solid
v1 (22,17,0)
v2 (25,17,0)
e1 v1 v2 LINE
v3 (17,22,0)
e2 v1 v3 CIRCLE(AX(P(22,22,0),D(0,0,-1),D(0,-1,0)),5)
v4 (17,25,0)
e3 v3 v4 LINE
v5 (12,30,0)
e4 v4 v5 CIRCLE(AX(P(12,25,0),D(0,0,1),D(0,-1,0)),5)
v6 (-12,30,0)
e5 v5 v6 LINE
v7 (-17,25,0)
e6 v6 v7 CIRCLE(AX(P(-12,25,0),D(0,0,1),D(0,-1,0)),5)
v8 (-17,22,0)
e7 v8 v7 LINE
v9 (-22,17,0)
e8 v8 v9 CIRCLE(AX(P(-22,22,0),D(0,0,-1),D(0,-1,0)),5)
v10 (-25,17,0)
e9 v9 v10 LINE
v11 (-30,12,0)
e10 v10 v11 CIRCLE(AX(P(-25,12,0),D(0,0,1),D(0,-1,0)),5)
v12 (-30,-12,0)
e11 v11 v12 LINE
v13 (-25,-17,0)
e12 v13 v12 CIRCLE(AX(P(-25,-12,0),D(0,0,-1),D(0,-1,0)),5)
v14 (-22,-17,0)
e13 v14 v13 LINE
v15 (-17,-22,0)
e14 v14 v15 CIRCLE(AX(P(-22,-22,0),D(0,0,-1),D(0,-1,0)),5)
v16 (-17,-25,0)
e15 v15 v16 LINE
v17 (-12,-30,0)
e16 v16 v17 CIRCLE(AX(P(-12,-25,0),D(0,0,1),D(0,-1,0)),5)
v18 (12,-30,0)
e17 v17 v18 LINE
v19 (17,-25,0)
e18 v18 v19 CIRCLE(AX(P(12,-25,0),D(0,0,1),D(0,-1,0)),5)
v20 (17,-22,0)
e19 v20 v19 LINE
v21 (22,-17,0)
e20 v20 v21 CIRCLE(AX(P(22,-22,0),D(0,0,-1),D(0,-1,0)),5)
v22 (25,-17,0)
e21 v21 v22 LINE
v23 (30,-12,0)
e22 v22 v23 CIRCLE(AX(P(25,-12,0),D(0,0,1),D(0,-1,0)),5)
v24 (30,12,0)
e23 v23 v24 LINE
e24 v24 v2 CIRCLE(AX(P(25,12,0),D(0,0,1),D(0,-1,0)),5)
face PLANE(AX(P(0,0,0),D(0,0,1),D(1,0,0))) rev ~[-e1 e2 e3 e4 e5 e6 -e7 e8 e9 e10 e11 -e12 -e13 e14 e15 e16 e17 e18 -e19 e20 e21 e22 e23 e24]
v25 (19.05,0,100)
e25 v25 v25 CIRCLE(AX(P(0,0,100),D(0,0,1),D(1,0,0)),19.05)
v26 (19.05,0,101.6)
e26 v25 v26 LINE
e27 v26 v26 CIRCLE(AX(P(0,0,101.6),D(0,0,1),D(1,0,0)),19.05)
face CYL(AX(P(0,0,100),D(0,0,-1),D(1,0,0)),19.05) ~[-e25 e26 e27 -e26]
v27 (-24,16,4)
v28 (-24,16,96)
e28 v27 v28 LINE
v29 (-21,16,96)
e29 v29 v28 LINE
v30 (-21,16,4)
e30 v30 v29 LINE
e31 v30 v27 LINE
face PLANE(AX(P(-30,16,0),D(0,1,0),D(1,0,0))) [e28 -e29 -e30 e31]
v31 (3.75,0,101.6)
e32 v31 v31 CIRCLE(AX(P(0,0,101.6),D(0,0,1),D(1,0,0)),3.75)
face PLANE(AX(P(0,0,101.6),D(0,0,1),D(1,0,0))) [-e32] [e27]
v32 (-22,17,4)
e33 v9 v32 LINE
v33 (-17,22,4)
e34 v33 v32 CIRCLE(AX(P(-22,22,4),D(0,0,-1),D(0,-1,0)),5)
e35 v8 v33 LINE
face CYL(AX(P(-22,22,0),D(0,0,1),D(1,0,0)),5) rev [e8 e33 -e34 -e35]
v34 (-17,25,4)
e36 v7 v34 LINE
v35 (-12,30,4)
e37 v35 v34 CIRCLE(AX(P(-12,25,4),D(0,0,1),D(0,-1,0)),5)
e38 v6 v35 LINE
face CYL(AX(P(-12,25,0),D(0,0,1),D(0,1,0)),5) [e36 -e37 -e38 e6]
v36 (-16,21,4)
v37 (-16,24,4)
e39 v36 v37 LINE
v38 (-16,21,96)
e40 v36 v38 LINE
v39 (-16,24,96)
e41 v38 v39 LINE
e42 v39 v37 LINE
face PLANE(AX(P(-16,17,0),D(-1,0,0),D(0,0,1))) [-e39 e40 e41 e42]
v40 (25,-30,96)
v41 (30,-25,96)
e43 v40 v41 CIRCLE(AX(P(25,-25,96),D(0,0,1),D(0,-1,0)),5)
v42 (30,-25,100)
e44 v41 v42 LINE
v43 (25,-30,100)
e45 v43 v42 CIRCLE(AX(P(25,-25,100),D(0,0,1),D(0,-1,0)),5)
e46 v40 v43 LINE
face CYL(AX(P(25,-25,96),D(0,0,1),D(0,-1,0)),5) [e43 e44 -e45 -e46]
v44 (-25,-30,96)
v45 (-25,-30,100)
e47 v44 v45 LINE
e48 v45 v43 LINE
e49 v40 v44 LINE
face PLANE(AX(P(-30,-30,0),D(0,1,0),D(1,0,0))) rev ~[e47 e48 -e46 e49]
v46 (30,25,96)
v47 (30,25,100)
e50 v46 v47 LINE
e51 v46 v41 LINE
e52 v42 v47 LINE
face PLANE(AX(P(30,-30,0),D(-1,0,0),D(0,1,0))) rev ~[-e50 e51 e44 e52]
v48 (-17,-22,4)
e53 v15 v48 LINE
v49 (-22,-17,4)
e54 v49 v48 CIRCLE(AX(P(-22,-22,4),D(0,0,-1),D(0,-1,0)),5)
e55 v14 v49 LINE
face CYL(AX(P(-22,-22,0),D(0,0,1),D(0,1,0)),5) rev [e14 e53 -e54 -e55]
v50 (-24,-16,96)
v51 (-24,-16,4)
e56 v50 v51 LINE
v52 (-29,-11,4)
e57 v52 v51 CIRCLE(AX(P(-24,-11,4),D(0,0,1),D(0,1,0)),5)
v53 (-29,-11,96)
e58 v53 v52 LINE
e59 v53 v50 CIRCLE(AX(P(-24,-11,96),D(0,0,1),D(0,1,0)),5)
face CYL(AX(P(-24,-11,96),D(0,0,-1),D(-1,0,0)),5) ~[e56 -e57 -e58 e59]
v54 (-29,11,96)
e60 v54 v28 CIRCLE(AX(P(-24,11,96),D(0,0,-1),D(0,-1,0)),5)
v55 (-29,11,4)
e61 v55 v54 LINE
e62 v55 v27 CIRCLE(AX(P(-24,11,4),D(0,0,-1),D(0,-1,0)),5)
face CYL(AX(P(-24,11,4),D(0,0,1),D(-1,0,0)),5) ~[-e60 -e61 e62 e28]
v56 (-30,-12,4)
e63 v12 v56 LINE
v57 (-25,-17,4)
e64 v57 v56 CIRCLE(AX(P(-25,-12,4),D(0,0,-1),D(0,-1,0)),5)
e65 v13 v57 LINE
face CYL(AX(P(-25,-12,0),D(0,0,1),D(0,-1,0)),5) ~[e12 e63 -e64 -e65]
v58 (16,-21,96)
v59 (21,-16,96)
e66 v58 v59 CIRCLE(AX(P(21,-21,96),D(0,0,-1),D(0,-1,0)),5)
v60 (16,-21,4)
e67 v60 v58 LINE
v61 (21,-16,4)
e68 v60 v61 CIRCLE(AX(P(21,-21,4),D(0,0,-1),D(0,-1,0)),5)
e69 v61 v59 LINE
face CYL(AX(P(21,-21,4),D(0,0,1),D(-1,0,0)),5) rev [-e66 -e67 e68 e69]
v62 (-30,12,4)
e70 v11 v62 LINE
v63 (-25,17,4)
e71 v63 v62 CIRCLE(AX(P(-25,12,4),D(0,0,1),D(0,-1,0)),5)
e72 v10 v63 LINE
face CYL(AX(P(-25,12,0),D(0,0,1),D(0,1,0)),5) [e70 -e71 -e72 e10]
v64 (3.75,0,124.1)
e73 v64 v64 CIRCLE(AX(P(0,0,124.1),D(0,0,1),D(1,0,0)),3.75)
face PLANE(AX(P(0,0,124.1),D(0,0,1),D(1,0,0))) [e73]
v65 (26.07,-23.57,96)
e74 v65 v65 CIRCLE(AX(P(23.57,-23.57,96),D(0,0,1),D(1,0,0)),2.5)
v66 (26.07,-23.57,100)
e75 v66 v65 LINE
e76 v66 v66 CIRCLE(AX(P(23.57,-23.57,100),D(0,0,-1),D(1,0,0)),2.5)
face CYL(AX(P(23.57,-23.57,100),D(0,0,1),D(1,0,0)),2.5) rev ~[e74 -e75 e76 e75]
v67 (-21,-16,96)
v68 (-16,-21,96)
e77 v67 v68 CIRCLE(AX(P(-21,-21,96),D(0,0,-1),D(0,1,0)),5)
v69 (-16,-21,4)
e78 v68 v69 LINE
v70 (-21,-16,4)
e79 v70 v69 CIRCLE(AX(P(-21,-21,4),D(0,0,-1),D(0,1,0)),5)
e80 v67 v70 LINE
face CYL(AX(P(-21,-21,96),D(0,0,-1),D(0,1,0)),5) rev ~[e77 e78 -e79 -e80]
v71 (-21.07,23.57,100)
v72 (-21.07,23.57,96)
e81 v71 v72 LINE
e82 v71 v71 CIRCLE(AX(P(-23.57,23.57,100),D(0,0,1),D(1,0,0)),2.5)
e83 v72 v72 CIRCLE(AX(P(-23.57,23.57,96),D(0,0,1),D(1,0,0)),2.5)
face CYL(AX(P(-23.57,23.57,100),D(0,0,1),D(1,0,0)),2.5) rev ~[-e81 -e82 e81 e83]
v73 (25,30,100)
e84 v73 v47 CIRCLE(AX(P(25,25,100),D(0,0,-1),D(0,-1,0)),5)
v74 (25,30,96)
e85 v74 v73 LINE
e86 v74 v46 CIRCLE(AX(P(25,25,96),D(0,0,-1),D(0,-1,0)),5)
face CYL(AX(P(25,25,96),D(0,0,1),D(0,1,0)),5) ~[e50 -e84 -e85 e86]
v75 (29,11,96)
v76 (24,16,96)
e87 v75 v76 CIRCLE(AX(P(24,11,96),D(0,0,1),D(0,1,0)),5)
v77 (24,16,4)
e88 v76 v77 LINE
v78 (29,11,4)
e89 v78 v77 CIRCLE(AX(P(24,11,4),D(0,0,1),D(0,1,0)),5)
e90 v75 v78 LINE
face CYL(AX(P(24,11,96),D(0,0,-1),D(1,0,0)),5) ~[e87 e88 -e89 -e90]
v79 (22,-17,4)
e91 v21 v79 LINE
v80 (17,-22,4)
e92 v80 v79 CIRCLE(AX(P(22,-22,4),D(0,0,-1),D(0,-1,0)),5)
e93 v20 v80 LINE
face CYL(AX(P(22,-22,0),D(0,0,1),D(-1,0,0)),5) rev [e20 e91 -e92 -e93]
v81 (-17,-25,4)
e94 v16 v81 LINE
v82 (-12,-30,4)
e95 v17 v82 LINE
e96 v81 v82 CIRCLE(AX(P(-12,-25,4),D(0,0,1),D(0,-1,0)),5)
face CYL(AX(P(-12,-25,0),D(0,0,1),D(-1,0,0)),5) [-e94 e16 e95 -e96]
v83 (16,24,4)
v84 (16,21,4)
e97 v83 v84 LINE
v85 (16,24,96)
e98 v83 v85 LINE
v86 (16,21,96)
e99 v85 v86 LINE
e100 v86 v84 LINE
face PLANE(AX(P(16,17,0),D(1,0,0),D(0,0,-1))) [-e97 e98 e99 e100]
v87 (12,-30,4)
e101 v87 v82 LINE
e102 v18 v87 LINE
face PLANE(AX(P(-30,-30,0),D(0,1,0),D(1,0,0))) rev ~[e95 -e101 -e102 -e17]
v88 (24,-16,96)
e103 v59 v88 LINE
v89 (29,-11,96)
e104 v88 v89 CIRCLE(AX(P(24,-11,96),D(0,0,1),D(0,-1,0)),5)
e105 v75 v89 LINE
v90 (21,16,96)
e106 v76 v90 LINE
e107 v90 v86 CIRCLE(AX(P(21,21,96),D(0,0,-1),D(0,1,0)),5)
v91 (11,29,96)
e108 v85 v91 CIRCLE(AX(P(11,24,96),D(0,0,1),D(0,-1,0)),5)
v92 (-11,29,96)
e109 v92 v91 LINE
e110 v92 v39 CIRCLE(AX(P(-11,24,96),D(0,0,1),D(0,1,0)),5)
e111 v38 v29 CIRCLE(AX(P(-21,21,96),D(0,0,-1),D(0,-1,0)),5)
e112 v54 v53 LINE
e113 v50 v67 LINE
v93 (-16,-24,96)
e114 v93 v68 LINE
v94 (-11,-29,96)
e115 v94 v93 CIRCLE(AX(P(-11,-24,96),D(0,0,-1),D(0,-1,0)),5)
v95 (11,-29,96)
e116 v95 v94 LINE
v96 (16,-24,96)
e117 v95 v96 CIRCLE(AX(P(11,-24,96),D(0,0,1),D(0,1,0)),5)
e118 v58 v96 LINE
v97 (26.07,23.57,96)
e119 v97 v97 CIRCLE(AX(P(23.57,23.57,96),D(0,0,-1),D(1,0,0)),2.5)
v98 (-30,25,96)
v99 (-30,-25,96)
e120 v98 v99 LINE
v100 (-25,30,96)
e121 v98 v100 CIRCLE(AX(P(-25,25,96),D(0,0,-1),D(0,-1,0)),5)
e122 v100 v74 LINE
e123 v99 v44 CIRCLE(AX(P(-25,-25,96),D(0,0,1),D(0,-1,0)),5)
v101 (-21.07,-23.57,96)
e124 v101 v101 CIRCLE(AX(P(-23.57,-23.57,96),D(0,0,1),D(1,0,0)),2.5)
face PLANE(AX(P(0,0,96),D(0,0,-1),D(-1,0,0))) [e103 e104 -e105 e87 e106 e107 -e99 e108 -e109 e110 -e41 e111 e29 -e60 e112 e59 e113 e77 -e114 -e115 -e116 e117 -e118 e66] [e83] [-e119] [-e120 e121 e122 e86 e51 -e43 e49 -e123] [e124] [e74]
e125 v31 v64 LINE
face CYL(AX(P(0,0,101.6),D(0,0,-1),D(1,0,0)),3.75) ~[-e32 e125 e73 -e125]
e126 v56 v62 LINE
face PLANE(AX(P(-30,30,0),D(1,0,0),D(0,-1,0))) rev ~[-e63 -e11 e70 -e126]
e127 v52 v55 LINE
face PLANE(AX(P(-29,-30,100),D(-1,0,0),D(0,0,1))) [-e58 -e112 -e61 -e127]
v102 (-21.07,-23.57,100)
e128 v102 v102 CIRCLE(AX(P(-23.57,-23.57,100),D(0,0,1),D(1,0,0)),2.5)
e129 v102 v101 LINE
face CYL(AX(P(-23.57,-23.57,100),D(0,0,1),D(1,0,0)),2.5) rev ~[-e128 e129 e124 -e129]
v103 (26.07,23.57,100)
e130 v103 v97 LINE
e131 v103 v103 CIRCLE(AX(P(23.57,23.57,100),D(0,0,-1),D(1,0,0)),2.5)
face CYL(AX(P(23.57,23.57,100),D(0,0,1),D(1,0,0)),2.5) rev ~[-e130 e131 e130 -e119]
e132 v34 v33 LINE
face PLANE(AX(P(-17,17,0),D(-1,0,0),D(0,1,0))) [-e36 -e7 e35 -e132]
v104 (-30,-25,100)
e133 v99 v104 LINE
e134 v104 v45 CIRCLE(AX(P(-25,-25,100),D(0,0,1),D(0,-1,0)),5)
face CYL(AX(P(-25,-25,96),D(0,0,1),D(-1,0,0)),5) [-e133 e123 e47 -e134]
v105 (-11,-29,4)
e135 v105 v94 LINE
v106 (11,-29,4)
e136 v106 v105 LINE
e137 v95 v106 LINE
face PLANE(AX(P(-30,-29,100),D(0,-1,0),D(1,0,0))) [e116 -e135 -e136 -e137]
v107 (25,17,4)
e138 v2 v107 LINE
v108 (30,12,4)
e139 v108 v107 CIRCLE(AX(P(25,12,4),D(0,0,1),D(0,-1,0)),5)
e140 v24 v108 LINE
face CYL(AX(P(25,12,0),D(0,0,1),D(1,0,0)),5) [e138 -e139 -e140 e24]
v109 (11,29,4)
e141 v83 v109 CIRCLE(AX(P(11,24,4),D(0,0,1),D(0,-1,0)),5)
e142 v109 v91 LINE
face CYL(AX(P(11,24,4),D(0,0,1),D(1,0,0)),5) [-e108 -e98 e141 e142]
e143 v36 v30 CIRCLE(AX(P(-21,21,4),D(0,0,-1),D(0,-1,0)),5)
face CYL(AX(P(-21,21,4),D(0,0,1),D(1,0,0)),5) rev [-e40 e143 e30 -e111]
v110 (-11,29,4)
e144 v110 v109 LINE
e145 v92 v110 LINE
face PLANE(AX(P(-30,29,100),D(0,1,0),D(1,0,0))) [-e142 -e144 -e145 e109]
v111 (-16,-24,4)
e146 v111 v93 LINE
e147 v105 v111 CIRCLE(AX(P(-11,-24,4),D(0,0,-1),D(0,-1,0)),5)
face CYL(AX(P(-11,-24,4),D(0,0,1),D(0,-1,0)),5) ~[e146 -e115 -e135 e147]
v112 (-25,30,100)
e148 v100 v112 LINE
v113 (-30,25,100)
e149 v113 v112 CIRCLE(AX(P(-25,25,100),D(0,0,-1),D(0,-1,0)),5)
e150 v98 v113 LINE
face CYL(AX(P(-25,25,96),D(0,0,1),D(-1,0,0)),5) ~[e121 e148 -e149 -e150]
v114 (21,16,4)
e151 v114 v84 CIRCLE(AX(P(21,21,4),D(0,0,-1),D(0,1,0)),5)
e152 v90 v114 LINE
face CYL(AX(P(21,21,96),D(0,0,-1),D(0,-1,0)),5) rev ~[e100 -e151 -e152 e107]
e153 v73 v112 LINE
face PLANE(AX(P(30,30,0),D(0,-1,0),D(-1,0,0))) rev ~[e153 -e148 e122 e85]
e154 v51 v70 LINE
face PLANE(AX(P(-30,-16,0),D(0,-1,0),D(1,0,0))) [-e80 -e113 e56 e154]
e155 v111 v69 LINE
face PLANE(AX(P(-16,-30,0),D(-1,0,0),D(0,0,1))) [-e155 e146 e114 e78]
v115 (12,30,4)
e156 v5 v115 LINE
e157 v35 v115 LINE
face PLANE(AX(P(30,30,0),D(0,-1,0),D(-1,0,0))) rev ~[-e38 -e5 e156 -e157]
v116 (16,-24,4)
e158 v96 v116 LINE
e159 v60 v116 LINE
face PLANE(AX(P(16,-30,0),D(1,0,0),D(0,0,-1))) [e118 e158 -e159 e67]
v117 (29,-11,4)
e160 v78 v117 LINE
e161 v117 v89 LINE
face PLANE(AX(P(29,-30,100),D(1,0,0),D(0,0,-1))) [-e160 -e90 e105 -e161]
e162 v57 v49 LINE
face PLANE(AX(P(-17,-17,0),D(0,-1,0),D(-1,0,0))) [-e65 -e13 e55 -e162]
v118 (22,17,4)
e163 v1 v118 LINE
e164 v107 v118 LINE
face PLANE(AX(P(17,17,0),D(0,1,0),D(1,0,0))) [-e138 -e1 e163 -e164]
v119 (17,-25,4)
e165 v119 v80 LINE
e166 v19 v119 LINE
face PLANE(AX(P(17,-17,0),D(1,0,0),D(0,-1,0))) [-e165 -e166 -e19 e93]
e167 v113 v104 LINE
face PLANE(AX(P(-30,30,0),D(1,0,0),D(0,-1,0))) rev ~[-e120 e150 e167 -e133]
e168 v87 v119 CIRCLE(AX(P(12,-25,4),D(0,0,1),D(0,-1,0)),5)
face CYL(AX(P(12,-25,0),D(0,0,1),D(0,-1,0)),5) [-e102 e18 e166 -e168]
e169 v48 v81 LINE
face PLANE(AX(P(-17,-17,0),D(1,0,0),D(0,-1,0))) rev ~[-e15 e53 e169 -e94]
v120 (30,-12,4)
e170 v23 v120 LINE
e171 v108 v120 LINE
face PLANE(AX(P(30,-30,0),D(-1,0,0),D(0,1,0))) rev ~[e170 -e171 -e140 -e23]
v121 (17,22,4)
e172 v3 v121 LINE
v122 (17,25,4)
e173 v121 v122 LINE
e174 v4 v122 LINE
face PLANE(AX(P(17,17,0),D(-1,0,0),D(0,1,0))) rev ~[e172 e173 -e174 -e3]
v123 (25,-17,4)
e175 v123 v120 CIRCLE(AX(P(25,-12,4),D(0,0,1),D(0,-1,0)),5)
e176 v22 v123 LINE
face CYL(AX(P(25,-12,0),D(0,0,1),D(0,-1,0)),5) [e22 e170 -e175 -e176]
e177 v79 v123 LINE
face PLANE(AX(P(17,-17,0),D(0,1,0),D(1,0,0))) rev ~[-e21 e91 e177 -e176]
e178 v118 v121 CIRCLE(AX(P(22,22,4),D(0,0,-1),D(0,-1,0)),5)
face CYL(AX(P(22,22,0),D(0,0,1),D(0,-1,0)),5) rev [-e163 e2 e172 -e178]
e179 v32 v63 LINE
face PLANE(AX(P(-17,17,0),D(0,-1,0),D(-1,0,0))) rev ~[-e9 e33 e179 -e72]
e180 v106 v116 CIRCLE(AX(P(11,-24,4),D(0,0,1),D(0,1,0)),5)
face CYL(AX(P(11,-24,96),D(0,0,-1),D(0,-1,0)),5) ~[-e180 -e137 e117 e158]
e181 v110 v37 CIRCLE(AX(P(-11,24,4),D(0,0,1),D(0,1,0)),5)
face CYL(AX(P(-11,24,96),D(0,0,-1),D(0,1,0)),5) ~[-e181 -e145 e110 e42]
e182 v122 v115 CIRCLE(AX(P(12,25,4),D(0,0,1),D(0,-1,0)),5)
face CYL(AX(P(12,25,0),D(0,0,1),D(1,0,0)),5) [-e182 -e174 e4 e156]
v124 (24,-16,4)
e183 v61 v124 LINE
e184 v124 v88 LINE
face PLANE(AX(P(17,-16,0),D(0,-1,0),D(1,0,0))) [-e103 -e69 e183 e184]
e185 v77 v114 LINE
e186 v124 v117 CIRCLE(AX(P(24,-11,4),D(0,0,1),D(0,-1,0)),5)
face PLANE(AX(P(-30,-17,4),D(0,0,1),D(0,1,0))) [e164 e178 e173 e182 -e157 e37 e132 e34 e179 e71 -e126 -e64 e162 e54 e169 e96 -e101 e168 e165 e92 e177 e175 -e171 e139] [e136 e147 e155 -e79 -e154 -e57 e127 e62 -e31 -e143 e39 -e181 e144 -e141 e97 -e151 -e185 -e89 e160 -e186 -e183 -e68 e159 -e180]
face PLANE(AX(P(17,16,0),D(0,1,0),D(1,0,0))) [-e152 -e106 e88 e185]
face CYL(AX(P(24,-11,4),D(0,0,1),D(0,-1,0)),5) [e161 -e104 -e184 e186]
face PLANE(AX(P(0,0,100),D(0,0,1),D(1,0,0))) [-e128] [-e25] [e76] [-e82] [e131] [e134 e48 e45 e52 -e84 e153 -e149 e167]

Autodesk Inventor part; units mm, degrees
ref_plane "YZ Plane" through (0, 0, 0) normal (1, 0, 0) x (0, 1, 0)
ref_plane "XZ Plane" through (0, 0, 0) normal (0, 1, 0) x (-1, 0, 0)
ref_plane "XY Plane" through (0, 0, 0) normal (0, 0, 1) x (1, 0, 0)
sketch "Szkic1" plane through (0, 0, 0) normal (0, 0, 1) x (1, 0, 0)
  line L0 (-30, -30) -> (30, -30)
  line L1 (30, -30) -> (30, 30)
  line L2 (30, 30) -> (-30, 30)
  line L3 (-30, 30) -> (-30, -30)
  line L4 (-30, -30) -> (30, 30) construction
  line L5 (30, -30) -> (-30, 30) construction
  point P0 (0, 0)
  dimension "d0" = 60
  dimension "d1" = 60
extrude "Wyciągnięcie proste1" add sketch "Szkic1" along normal blind 100
sketch "Szkic2" plane through (0, 0, 100) normal (0, 0, 1) x (1, 0, 0)
  circle A0 centre (0, 0) radius 19.05
  dimension "d4" = 38.1
extrude "Wyciągnięcie proste2" add sketch "Szkic2" along normal blind 1.6
sketch "Szkic3" plane through (0, 0, 100) normal (0, 0, 1) x (1, 0, 0)
  line L0 (0, 0) -> (0, 23.57)
  line L1 (30, -30) -> (30, 30) projected
  line L2 (-30, 30) -> (-30, -30) projected
  line L3 (0, 0) -> (0, -23.57)
  line L4 (0, -23.57) -> (23.57, -23.57)
  line L5 (0, -23.57) -> (-23.57, -23.57)
  line L6 (0, 23.57) -> (-23.57, 23.57)
  line L7 (0, 23.57) -> (23.57, 23.57)
  circle A0 centre (23.57, 23.57) radius 2.5
  circle A1 centre (-23.57, 23.57) radius 2.5
  circle A2 centre (-23.57, -23.57) radius 2.5
  circle A3 centre (23.57, -23.57) radius 2.5
  dimension "d13" = 47.14
  dimension "d14" = 47.14
  dimension "d15" = 47.14
  dimension "d16" = 5
  dimension "d17" = 5
  dimension "d18" = 5
  dimension "d19" = 5
extrude "Wyciągnięcie proste3" cut sketch "Szkic3" against normal up to next
sketch "Szkic4" plane through (0, 0, 0) normal (0, 0, -1) x (-1, 0, 0)
  circle A0 centre (23.57, -23.57) radius 2.5 projected
  circle A1 centre (-23.57, 23.57) radius 2.5 projected
  circle A2 centre (23.57, 23.57) radius 2.5 projected
  circle A3 centre (-23.57, -23.57) radius 2.5 projected
  line L0 (30, -30) -> (-30, -30) projected
  line L1 (30, 30) -> (30, -30) projected
  line L2 (-30, 30) -> (30, 30) projected
  line L3 (-30, -30) -> (-30, 30) projected
  line L4 (-30, -30) -> (-30, 30) projected
  line L5 (-17, -17) -> (-17, -30)
  line L6 (17, -17) -> (17, -30)
  line L7 (30, 30) -> (30, -30) projected
  line L8 (-17, -17) -> (-30, -17)
  line L9 (17, 17) -> (30, 17)
  line L10 (-17, 17) -> (-17, 30)
  line L11 (-17, 17) -> (-30, 17)
  line L12 (17, 17) -> (17, 30)
  line L13 (17, -17) -> (30, -17)
  point P0 (0, 0)
extrude "Wyciągnięcie proste4" cut sketch "Szkic4" against normal blind 96 contours L0 L6 L13 L1 | L0 L3 L8 L5 | L9 L12 L2 L1 | L3 L2 L10 L11
sketch "Szkic5" plane through (0, 0, 101.6) normal (0, 0, 1) x (1, 0, 0)
  circle A0 centre (0, 0) radius 3.75
  dimension "d25" = 7.5
extrude "Wyciągnięcie proste5" add sketch "Szkic5" along normal blind 22.5
sketch "Szkic6" plane through (-30, 30, 100) normal (0, 1, 0) x (1, 0, 0)
  line L0 (13, 100) -> (13, 4) projected
  line L1 (13, 4) -> (0, 4) projected
  line L2 (0, 4) -> (0, 0) projected
  line L3 (60, 0) -> (0, 0) projected
  line L4 (60, 4) -> (60, 0) projected
  line L5 (60, 4) -> (47, 4) projected
  line L6 (47, 4) -> (47, 100) projected
  line L7 (47, 100) -> (13, 100) projected
  line L8 (13, 4) -> (47, 4)
  line L9 (13, 100) -> (13, 4) projected
  line L10 (13, 100) -> (13, 96)
  line L11 (13, 96) -> (47, 96)
  point P0 (30, 100)
  dimension "d28" = 4
extrude "Wyciągnięcie proste6" cut sketch "Szkic6" against normal blind 1 contours L11 L6 L8 L0
sketch "Szkic7" plane through (-30, -30, 100) normal (-1, 0, 0) x (0, 0, 1)
  line L0 (-4, 47) -> (-100, 47) projected
  line L1 (-100, 47) -> (-100, 13) projected
  line L2 (-100, 13) -> (-4, 13) projected
  line L3 (-4, 13) -> (-4, 0) projected
  line L4 (-4, 0) -> (0, 0) projected
  line L5 (0, 60) -> (0, 0) projected
  line L6 (-4, 60) -> (0, 60) projected
  line L7 (-4, 60) -> (-4, 47) projected
  line L8 (-100, 47) -> (-4, 47) projected
  line L9 (-100, 13) -> (-4, 13) projected
  line L10 (-4, 47) -> (-4, 13)
  line L11 (-100, 47) -> (-100, 13) projected
  line L12 (-96, 13) -> (-96, 47)
  point P0 (-100, 30)
sketch "Szkic8" plane through (-30, -30, 100) normal (0, -1, 0) x (1, 0, 0)
  line L0 (13, -4) -> (13, -100) projected
  line L1 (13, -100) -> (47, -100) projected
  line L2 (47, -100) -> (47, -4) projected
  line L3 (47, -4) -> (60, -4) projected
  line L4 (60, -4) -> (60, 0) projected
  line L5 (0, 0) -> (60, 0) projected
  line L6 (0, -4) -> (0, 0) projected
  line L7 (0, -4) -> (13, -4) projected
  line L8 (47, -4) -> (13, -4) projected
  line L9 (13, -4) -> (47, -4)
  line L10 (47, -100) -> (47, -96)
  line L11 (47, -100) -> (47, -4) projected
  line L12 (47, -96) -> (13, -96)
  point P0 (30, -100)
  dimension "d34" = 4
sketch "Szkic9" plane through (30, -30, 100) normal (1, 0, 0) x (0, 0, -1)
  line L0 (4, 13) -> (100, 13) projected
  line L1 (100, 13) -> (100, 47) projected
  line L2 (100, 47) -> (4, 47) projected
  line L3 (4, 47) -> (4, 60) projected
  line L4 (4, 60) -> (0, 60) projected
  line L5 (0, 0) -> (0, 60) projected
  line L6 (4, 0) -> (0, 0) projected
  line L7 (4, 0) -> (4, 13) projected
  line L8 (4, 47) -> (4, 13) projected
  line L9 (4, 13) -> (4, 47)
  line L10 (100, 47) -> (100, 60) projected
  line L11 (100, 47) -> (96, 47)
  line L12 (100, 47) -> (4, 47) projected
  line L13 (96, 47) -> (96, 13)
  line L14 (100, 13) -> (4, 13) projected
  point P0 (100, 30)
  dimension "d37" = 4
extrude "Wyciągnięcie proste10" cut sketch "Szkic8" against normal blind 1 contours L8 L2 L12 L0
extrude "Wyciągnięcie proste11" cut sketch "Szkic7" against normal blind 1 contours L10 L2 L12 L0
extrude "Wyciągnięcie proste12" cut sketch "Szkic9" against normal blind 1 contours L8 L2 L13 L0
sketch "Szkic10" plane through (-30, 17, 0) normal (0, 1, 0) x (1, 0, 0)
  line L0 (1, -4) -> (1, -96)
  line L1 (1, -96) -> (13, -96)
  line L2 (13, -4) -> (13, -96)
  line L3 (1, -4) -> (1, -96)
  line L4 (1, -4) -> (13, -4)
  point P0 (30, 0)
extrude "Wyciągnięcie proste13" cut sketch "Szkic10" against normal blind 1
sketch "Szkic11" plane through (-17, 17, 0) normal (-1, 0, 0) x (0, 0, 1)
  line L0 (4, 0) -> (4, -1)
  line L1 (4, -1) -> (96, -1)
  line L2 (96, -1) -> (96, 12)
  line L3 (96, 12) -> (4, 12)
  line L4 (96, 12) -> (4, 12)
  line L5 (4, 12) -> (4, 0)
  point P0 (0, -17)
extrude "Wyciągnięcie proste14" cut sketch "Szkic11" against normal blind 1
sketch "Szkic12" plane through (17, 17, 0) normal (0, 1, 0) x (1, 0, 0)
  line L0 (12, -96) -> (12, -4)
  line L1 (0, -4) -> (0, -96)
  line L2 (0, -96) -> (12, -96)
  line L3 (12, -4) -> (0, -4)
  point P0 (-17, 0)
extrude "Wyciągnięcie proste15" cut sketch "Szkic12" against normal blind 1
sketch "Szkic13" plane through (17, 17, 0) normal (1, 0, 0) x (0, 0, -1)
  line L0 (-4, 12) -> (-96, 12)
  line L1 (-96, 12) -> (-96, -1)
  line L2 (-96, -1) -> (-4, -1)
  line L3 (-4, 0) -> (-4, -1)
  line L4 (-4, -1) -> (-4, 12)
  line L5 (-4, 0) -> (-4, 12)
  point P0 (0, -17)
extrude "Wyciągnięcie proste16" cut sketch "Szkic13" against normal blind 1
sketch "Szkic14" plane through (17, -17, 0) normal (0, -1, 0) x (1, 0, 0)
  line L0 (12, 4) -> (12, 96)
  line L1 (12, 96) -> (0, 96)
  line L2 (0, 4) -> (0, 96)
  line L3 (0, 4) -> (12, 4)
  line L4 (-1, 4) -> (-1, 96)
  point P0 (-17, 0)
extrude "Wyciągnięcie proste17" cut sketch "Szkic14" against normal blind 1
sketch "Szkic15" plane through (17, -30, 0) normal (1, 0, 0) x (0, 0, -1)
  line L0 (-96, 1) -> (-4, 1)
  line L1 (-4, 13) -> (-4, 14)
  line L2 (-4, 14) -> (-96, 14)
  line L3 (-96, 14) -> (-96, 1)
  line L4 (-4, 1) -> (-96, 1)
  line L5 (-4, 1) -> (-4, 13)
  point P0 (0, 30)
extrude "Wyciągnięcie proste18" cut sketch "Szkic15" against normal blind 1
sketch "Szkic16" plane through (-30, -17, 0) normal (0, -1, 0) x (1, 0, 0)
  line L0 (1, 96) -> (1, 4)
  line L1 (13, 4) -> (13, 96)
  line L2 (13, 96) -> (1, 96)
  line L3 (1, 4) -> (14, 4)
  line L4 (13, 4) -> (1, 4)
  point P0 (30, 0)
extrude "Wyciągnięcie proste19" cut sketch "Szkic16" against normal blind 1
sketch "Szkic17" plane through (-17, -30, 0) normal (-1, 0, 0) x (0, 0, 1)
  line L0 (4, 1) -> (96, 1)
  line L1 (96, 1) -> (96, 14)
  line L2 (96, 14) -> (4, 14)
  line L3 (4, 13) -> (4, 14)
  line L4 (4, 14) -> (4, 1)
  line L5 (4, 13) -> (4, 1)
  point P0 (0, 30)
extrude "Wyciągnięcie proste20" cut sketch "Szkic17" against normal blind 1
fillet "Zaokrąglenie1" radius 5 28 edges at (-30, 30, 98) (30, 30, 98) (30, -30, 98) (-30, -30, 98) (-16, -16, 50) (-29, -16, 50) (-16, -29, 50) (16, -29, 50) (16, -16, 50) (29, -16, 50) (29, 16, 50) (16, 16, 50) (16, 29, 50) (-16, 29, 50) (-16, 16, 50) (-29, 16, 50) (-30, 17, 2) (-17, 17, 2) (-17, 30, 2) (17, 30, 2) (17, 17, 2) (30, 17, 2) (30, -17, 2) (17, -17, 2) (17, -30, 2) (-17, -30, 2) (-17, -17, 2) (-30, -17, 2)
properties part number "Silnik krokowy SM 60 100-4004AF - 4Nm"
